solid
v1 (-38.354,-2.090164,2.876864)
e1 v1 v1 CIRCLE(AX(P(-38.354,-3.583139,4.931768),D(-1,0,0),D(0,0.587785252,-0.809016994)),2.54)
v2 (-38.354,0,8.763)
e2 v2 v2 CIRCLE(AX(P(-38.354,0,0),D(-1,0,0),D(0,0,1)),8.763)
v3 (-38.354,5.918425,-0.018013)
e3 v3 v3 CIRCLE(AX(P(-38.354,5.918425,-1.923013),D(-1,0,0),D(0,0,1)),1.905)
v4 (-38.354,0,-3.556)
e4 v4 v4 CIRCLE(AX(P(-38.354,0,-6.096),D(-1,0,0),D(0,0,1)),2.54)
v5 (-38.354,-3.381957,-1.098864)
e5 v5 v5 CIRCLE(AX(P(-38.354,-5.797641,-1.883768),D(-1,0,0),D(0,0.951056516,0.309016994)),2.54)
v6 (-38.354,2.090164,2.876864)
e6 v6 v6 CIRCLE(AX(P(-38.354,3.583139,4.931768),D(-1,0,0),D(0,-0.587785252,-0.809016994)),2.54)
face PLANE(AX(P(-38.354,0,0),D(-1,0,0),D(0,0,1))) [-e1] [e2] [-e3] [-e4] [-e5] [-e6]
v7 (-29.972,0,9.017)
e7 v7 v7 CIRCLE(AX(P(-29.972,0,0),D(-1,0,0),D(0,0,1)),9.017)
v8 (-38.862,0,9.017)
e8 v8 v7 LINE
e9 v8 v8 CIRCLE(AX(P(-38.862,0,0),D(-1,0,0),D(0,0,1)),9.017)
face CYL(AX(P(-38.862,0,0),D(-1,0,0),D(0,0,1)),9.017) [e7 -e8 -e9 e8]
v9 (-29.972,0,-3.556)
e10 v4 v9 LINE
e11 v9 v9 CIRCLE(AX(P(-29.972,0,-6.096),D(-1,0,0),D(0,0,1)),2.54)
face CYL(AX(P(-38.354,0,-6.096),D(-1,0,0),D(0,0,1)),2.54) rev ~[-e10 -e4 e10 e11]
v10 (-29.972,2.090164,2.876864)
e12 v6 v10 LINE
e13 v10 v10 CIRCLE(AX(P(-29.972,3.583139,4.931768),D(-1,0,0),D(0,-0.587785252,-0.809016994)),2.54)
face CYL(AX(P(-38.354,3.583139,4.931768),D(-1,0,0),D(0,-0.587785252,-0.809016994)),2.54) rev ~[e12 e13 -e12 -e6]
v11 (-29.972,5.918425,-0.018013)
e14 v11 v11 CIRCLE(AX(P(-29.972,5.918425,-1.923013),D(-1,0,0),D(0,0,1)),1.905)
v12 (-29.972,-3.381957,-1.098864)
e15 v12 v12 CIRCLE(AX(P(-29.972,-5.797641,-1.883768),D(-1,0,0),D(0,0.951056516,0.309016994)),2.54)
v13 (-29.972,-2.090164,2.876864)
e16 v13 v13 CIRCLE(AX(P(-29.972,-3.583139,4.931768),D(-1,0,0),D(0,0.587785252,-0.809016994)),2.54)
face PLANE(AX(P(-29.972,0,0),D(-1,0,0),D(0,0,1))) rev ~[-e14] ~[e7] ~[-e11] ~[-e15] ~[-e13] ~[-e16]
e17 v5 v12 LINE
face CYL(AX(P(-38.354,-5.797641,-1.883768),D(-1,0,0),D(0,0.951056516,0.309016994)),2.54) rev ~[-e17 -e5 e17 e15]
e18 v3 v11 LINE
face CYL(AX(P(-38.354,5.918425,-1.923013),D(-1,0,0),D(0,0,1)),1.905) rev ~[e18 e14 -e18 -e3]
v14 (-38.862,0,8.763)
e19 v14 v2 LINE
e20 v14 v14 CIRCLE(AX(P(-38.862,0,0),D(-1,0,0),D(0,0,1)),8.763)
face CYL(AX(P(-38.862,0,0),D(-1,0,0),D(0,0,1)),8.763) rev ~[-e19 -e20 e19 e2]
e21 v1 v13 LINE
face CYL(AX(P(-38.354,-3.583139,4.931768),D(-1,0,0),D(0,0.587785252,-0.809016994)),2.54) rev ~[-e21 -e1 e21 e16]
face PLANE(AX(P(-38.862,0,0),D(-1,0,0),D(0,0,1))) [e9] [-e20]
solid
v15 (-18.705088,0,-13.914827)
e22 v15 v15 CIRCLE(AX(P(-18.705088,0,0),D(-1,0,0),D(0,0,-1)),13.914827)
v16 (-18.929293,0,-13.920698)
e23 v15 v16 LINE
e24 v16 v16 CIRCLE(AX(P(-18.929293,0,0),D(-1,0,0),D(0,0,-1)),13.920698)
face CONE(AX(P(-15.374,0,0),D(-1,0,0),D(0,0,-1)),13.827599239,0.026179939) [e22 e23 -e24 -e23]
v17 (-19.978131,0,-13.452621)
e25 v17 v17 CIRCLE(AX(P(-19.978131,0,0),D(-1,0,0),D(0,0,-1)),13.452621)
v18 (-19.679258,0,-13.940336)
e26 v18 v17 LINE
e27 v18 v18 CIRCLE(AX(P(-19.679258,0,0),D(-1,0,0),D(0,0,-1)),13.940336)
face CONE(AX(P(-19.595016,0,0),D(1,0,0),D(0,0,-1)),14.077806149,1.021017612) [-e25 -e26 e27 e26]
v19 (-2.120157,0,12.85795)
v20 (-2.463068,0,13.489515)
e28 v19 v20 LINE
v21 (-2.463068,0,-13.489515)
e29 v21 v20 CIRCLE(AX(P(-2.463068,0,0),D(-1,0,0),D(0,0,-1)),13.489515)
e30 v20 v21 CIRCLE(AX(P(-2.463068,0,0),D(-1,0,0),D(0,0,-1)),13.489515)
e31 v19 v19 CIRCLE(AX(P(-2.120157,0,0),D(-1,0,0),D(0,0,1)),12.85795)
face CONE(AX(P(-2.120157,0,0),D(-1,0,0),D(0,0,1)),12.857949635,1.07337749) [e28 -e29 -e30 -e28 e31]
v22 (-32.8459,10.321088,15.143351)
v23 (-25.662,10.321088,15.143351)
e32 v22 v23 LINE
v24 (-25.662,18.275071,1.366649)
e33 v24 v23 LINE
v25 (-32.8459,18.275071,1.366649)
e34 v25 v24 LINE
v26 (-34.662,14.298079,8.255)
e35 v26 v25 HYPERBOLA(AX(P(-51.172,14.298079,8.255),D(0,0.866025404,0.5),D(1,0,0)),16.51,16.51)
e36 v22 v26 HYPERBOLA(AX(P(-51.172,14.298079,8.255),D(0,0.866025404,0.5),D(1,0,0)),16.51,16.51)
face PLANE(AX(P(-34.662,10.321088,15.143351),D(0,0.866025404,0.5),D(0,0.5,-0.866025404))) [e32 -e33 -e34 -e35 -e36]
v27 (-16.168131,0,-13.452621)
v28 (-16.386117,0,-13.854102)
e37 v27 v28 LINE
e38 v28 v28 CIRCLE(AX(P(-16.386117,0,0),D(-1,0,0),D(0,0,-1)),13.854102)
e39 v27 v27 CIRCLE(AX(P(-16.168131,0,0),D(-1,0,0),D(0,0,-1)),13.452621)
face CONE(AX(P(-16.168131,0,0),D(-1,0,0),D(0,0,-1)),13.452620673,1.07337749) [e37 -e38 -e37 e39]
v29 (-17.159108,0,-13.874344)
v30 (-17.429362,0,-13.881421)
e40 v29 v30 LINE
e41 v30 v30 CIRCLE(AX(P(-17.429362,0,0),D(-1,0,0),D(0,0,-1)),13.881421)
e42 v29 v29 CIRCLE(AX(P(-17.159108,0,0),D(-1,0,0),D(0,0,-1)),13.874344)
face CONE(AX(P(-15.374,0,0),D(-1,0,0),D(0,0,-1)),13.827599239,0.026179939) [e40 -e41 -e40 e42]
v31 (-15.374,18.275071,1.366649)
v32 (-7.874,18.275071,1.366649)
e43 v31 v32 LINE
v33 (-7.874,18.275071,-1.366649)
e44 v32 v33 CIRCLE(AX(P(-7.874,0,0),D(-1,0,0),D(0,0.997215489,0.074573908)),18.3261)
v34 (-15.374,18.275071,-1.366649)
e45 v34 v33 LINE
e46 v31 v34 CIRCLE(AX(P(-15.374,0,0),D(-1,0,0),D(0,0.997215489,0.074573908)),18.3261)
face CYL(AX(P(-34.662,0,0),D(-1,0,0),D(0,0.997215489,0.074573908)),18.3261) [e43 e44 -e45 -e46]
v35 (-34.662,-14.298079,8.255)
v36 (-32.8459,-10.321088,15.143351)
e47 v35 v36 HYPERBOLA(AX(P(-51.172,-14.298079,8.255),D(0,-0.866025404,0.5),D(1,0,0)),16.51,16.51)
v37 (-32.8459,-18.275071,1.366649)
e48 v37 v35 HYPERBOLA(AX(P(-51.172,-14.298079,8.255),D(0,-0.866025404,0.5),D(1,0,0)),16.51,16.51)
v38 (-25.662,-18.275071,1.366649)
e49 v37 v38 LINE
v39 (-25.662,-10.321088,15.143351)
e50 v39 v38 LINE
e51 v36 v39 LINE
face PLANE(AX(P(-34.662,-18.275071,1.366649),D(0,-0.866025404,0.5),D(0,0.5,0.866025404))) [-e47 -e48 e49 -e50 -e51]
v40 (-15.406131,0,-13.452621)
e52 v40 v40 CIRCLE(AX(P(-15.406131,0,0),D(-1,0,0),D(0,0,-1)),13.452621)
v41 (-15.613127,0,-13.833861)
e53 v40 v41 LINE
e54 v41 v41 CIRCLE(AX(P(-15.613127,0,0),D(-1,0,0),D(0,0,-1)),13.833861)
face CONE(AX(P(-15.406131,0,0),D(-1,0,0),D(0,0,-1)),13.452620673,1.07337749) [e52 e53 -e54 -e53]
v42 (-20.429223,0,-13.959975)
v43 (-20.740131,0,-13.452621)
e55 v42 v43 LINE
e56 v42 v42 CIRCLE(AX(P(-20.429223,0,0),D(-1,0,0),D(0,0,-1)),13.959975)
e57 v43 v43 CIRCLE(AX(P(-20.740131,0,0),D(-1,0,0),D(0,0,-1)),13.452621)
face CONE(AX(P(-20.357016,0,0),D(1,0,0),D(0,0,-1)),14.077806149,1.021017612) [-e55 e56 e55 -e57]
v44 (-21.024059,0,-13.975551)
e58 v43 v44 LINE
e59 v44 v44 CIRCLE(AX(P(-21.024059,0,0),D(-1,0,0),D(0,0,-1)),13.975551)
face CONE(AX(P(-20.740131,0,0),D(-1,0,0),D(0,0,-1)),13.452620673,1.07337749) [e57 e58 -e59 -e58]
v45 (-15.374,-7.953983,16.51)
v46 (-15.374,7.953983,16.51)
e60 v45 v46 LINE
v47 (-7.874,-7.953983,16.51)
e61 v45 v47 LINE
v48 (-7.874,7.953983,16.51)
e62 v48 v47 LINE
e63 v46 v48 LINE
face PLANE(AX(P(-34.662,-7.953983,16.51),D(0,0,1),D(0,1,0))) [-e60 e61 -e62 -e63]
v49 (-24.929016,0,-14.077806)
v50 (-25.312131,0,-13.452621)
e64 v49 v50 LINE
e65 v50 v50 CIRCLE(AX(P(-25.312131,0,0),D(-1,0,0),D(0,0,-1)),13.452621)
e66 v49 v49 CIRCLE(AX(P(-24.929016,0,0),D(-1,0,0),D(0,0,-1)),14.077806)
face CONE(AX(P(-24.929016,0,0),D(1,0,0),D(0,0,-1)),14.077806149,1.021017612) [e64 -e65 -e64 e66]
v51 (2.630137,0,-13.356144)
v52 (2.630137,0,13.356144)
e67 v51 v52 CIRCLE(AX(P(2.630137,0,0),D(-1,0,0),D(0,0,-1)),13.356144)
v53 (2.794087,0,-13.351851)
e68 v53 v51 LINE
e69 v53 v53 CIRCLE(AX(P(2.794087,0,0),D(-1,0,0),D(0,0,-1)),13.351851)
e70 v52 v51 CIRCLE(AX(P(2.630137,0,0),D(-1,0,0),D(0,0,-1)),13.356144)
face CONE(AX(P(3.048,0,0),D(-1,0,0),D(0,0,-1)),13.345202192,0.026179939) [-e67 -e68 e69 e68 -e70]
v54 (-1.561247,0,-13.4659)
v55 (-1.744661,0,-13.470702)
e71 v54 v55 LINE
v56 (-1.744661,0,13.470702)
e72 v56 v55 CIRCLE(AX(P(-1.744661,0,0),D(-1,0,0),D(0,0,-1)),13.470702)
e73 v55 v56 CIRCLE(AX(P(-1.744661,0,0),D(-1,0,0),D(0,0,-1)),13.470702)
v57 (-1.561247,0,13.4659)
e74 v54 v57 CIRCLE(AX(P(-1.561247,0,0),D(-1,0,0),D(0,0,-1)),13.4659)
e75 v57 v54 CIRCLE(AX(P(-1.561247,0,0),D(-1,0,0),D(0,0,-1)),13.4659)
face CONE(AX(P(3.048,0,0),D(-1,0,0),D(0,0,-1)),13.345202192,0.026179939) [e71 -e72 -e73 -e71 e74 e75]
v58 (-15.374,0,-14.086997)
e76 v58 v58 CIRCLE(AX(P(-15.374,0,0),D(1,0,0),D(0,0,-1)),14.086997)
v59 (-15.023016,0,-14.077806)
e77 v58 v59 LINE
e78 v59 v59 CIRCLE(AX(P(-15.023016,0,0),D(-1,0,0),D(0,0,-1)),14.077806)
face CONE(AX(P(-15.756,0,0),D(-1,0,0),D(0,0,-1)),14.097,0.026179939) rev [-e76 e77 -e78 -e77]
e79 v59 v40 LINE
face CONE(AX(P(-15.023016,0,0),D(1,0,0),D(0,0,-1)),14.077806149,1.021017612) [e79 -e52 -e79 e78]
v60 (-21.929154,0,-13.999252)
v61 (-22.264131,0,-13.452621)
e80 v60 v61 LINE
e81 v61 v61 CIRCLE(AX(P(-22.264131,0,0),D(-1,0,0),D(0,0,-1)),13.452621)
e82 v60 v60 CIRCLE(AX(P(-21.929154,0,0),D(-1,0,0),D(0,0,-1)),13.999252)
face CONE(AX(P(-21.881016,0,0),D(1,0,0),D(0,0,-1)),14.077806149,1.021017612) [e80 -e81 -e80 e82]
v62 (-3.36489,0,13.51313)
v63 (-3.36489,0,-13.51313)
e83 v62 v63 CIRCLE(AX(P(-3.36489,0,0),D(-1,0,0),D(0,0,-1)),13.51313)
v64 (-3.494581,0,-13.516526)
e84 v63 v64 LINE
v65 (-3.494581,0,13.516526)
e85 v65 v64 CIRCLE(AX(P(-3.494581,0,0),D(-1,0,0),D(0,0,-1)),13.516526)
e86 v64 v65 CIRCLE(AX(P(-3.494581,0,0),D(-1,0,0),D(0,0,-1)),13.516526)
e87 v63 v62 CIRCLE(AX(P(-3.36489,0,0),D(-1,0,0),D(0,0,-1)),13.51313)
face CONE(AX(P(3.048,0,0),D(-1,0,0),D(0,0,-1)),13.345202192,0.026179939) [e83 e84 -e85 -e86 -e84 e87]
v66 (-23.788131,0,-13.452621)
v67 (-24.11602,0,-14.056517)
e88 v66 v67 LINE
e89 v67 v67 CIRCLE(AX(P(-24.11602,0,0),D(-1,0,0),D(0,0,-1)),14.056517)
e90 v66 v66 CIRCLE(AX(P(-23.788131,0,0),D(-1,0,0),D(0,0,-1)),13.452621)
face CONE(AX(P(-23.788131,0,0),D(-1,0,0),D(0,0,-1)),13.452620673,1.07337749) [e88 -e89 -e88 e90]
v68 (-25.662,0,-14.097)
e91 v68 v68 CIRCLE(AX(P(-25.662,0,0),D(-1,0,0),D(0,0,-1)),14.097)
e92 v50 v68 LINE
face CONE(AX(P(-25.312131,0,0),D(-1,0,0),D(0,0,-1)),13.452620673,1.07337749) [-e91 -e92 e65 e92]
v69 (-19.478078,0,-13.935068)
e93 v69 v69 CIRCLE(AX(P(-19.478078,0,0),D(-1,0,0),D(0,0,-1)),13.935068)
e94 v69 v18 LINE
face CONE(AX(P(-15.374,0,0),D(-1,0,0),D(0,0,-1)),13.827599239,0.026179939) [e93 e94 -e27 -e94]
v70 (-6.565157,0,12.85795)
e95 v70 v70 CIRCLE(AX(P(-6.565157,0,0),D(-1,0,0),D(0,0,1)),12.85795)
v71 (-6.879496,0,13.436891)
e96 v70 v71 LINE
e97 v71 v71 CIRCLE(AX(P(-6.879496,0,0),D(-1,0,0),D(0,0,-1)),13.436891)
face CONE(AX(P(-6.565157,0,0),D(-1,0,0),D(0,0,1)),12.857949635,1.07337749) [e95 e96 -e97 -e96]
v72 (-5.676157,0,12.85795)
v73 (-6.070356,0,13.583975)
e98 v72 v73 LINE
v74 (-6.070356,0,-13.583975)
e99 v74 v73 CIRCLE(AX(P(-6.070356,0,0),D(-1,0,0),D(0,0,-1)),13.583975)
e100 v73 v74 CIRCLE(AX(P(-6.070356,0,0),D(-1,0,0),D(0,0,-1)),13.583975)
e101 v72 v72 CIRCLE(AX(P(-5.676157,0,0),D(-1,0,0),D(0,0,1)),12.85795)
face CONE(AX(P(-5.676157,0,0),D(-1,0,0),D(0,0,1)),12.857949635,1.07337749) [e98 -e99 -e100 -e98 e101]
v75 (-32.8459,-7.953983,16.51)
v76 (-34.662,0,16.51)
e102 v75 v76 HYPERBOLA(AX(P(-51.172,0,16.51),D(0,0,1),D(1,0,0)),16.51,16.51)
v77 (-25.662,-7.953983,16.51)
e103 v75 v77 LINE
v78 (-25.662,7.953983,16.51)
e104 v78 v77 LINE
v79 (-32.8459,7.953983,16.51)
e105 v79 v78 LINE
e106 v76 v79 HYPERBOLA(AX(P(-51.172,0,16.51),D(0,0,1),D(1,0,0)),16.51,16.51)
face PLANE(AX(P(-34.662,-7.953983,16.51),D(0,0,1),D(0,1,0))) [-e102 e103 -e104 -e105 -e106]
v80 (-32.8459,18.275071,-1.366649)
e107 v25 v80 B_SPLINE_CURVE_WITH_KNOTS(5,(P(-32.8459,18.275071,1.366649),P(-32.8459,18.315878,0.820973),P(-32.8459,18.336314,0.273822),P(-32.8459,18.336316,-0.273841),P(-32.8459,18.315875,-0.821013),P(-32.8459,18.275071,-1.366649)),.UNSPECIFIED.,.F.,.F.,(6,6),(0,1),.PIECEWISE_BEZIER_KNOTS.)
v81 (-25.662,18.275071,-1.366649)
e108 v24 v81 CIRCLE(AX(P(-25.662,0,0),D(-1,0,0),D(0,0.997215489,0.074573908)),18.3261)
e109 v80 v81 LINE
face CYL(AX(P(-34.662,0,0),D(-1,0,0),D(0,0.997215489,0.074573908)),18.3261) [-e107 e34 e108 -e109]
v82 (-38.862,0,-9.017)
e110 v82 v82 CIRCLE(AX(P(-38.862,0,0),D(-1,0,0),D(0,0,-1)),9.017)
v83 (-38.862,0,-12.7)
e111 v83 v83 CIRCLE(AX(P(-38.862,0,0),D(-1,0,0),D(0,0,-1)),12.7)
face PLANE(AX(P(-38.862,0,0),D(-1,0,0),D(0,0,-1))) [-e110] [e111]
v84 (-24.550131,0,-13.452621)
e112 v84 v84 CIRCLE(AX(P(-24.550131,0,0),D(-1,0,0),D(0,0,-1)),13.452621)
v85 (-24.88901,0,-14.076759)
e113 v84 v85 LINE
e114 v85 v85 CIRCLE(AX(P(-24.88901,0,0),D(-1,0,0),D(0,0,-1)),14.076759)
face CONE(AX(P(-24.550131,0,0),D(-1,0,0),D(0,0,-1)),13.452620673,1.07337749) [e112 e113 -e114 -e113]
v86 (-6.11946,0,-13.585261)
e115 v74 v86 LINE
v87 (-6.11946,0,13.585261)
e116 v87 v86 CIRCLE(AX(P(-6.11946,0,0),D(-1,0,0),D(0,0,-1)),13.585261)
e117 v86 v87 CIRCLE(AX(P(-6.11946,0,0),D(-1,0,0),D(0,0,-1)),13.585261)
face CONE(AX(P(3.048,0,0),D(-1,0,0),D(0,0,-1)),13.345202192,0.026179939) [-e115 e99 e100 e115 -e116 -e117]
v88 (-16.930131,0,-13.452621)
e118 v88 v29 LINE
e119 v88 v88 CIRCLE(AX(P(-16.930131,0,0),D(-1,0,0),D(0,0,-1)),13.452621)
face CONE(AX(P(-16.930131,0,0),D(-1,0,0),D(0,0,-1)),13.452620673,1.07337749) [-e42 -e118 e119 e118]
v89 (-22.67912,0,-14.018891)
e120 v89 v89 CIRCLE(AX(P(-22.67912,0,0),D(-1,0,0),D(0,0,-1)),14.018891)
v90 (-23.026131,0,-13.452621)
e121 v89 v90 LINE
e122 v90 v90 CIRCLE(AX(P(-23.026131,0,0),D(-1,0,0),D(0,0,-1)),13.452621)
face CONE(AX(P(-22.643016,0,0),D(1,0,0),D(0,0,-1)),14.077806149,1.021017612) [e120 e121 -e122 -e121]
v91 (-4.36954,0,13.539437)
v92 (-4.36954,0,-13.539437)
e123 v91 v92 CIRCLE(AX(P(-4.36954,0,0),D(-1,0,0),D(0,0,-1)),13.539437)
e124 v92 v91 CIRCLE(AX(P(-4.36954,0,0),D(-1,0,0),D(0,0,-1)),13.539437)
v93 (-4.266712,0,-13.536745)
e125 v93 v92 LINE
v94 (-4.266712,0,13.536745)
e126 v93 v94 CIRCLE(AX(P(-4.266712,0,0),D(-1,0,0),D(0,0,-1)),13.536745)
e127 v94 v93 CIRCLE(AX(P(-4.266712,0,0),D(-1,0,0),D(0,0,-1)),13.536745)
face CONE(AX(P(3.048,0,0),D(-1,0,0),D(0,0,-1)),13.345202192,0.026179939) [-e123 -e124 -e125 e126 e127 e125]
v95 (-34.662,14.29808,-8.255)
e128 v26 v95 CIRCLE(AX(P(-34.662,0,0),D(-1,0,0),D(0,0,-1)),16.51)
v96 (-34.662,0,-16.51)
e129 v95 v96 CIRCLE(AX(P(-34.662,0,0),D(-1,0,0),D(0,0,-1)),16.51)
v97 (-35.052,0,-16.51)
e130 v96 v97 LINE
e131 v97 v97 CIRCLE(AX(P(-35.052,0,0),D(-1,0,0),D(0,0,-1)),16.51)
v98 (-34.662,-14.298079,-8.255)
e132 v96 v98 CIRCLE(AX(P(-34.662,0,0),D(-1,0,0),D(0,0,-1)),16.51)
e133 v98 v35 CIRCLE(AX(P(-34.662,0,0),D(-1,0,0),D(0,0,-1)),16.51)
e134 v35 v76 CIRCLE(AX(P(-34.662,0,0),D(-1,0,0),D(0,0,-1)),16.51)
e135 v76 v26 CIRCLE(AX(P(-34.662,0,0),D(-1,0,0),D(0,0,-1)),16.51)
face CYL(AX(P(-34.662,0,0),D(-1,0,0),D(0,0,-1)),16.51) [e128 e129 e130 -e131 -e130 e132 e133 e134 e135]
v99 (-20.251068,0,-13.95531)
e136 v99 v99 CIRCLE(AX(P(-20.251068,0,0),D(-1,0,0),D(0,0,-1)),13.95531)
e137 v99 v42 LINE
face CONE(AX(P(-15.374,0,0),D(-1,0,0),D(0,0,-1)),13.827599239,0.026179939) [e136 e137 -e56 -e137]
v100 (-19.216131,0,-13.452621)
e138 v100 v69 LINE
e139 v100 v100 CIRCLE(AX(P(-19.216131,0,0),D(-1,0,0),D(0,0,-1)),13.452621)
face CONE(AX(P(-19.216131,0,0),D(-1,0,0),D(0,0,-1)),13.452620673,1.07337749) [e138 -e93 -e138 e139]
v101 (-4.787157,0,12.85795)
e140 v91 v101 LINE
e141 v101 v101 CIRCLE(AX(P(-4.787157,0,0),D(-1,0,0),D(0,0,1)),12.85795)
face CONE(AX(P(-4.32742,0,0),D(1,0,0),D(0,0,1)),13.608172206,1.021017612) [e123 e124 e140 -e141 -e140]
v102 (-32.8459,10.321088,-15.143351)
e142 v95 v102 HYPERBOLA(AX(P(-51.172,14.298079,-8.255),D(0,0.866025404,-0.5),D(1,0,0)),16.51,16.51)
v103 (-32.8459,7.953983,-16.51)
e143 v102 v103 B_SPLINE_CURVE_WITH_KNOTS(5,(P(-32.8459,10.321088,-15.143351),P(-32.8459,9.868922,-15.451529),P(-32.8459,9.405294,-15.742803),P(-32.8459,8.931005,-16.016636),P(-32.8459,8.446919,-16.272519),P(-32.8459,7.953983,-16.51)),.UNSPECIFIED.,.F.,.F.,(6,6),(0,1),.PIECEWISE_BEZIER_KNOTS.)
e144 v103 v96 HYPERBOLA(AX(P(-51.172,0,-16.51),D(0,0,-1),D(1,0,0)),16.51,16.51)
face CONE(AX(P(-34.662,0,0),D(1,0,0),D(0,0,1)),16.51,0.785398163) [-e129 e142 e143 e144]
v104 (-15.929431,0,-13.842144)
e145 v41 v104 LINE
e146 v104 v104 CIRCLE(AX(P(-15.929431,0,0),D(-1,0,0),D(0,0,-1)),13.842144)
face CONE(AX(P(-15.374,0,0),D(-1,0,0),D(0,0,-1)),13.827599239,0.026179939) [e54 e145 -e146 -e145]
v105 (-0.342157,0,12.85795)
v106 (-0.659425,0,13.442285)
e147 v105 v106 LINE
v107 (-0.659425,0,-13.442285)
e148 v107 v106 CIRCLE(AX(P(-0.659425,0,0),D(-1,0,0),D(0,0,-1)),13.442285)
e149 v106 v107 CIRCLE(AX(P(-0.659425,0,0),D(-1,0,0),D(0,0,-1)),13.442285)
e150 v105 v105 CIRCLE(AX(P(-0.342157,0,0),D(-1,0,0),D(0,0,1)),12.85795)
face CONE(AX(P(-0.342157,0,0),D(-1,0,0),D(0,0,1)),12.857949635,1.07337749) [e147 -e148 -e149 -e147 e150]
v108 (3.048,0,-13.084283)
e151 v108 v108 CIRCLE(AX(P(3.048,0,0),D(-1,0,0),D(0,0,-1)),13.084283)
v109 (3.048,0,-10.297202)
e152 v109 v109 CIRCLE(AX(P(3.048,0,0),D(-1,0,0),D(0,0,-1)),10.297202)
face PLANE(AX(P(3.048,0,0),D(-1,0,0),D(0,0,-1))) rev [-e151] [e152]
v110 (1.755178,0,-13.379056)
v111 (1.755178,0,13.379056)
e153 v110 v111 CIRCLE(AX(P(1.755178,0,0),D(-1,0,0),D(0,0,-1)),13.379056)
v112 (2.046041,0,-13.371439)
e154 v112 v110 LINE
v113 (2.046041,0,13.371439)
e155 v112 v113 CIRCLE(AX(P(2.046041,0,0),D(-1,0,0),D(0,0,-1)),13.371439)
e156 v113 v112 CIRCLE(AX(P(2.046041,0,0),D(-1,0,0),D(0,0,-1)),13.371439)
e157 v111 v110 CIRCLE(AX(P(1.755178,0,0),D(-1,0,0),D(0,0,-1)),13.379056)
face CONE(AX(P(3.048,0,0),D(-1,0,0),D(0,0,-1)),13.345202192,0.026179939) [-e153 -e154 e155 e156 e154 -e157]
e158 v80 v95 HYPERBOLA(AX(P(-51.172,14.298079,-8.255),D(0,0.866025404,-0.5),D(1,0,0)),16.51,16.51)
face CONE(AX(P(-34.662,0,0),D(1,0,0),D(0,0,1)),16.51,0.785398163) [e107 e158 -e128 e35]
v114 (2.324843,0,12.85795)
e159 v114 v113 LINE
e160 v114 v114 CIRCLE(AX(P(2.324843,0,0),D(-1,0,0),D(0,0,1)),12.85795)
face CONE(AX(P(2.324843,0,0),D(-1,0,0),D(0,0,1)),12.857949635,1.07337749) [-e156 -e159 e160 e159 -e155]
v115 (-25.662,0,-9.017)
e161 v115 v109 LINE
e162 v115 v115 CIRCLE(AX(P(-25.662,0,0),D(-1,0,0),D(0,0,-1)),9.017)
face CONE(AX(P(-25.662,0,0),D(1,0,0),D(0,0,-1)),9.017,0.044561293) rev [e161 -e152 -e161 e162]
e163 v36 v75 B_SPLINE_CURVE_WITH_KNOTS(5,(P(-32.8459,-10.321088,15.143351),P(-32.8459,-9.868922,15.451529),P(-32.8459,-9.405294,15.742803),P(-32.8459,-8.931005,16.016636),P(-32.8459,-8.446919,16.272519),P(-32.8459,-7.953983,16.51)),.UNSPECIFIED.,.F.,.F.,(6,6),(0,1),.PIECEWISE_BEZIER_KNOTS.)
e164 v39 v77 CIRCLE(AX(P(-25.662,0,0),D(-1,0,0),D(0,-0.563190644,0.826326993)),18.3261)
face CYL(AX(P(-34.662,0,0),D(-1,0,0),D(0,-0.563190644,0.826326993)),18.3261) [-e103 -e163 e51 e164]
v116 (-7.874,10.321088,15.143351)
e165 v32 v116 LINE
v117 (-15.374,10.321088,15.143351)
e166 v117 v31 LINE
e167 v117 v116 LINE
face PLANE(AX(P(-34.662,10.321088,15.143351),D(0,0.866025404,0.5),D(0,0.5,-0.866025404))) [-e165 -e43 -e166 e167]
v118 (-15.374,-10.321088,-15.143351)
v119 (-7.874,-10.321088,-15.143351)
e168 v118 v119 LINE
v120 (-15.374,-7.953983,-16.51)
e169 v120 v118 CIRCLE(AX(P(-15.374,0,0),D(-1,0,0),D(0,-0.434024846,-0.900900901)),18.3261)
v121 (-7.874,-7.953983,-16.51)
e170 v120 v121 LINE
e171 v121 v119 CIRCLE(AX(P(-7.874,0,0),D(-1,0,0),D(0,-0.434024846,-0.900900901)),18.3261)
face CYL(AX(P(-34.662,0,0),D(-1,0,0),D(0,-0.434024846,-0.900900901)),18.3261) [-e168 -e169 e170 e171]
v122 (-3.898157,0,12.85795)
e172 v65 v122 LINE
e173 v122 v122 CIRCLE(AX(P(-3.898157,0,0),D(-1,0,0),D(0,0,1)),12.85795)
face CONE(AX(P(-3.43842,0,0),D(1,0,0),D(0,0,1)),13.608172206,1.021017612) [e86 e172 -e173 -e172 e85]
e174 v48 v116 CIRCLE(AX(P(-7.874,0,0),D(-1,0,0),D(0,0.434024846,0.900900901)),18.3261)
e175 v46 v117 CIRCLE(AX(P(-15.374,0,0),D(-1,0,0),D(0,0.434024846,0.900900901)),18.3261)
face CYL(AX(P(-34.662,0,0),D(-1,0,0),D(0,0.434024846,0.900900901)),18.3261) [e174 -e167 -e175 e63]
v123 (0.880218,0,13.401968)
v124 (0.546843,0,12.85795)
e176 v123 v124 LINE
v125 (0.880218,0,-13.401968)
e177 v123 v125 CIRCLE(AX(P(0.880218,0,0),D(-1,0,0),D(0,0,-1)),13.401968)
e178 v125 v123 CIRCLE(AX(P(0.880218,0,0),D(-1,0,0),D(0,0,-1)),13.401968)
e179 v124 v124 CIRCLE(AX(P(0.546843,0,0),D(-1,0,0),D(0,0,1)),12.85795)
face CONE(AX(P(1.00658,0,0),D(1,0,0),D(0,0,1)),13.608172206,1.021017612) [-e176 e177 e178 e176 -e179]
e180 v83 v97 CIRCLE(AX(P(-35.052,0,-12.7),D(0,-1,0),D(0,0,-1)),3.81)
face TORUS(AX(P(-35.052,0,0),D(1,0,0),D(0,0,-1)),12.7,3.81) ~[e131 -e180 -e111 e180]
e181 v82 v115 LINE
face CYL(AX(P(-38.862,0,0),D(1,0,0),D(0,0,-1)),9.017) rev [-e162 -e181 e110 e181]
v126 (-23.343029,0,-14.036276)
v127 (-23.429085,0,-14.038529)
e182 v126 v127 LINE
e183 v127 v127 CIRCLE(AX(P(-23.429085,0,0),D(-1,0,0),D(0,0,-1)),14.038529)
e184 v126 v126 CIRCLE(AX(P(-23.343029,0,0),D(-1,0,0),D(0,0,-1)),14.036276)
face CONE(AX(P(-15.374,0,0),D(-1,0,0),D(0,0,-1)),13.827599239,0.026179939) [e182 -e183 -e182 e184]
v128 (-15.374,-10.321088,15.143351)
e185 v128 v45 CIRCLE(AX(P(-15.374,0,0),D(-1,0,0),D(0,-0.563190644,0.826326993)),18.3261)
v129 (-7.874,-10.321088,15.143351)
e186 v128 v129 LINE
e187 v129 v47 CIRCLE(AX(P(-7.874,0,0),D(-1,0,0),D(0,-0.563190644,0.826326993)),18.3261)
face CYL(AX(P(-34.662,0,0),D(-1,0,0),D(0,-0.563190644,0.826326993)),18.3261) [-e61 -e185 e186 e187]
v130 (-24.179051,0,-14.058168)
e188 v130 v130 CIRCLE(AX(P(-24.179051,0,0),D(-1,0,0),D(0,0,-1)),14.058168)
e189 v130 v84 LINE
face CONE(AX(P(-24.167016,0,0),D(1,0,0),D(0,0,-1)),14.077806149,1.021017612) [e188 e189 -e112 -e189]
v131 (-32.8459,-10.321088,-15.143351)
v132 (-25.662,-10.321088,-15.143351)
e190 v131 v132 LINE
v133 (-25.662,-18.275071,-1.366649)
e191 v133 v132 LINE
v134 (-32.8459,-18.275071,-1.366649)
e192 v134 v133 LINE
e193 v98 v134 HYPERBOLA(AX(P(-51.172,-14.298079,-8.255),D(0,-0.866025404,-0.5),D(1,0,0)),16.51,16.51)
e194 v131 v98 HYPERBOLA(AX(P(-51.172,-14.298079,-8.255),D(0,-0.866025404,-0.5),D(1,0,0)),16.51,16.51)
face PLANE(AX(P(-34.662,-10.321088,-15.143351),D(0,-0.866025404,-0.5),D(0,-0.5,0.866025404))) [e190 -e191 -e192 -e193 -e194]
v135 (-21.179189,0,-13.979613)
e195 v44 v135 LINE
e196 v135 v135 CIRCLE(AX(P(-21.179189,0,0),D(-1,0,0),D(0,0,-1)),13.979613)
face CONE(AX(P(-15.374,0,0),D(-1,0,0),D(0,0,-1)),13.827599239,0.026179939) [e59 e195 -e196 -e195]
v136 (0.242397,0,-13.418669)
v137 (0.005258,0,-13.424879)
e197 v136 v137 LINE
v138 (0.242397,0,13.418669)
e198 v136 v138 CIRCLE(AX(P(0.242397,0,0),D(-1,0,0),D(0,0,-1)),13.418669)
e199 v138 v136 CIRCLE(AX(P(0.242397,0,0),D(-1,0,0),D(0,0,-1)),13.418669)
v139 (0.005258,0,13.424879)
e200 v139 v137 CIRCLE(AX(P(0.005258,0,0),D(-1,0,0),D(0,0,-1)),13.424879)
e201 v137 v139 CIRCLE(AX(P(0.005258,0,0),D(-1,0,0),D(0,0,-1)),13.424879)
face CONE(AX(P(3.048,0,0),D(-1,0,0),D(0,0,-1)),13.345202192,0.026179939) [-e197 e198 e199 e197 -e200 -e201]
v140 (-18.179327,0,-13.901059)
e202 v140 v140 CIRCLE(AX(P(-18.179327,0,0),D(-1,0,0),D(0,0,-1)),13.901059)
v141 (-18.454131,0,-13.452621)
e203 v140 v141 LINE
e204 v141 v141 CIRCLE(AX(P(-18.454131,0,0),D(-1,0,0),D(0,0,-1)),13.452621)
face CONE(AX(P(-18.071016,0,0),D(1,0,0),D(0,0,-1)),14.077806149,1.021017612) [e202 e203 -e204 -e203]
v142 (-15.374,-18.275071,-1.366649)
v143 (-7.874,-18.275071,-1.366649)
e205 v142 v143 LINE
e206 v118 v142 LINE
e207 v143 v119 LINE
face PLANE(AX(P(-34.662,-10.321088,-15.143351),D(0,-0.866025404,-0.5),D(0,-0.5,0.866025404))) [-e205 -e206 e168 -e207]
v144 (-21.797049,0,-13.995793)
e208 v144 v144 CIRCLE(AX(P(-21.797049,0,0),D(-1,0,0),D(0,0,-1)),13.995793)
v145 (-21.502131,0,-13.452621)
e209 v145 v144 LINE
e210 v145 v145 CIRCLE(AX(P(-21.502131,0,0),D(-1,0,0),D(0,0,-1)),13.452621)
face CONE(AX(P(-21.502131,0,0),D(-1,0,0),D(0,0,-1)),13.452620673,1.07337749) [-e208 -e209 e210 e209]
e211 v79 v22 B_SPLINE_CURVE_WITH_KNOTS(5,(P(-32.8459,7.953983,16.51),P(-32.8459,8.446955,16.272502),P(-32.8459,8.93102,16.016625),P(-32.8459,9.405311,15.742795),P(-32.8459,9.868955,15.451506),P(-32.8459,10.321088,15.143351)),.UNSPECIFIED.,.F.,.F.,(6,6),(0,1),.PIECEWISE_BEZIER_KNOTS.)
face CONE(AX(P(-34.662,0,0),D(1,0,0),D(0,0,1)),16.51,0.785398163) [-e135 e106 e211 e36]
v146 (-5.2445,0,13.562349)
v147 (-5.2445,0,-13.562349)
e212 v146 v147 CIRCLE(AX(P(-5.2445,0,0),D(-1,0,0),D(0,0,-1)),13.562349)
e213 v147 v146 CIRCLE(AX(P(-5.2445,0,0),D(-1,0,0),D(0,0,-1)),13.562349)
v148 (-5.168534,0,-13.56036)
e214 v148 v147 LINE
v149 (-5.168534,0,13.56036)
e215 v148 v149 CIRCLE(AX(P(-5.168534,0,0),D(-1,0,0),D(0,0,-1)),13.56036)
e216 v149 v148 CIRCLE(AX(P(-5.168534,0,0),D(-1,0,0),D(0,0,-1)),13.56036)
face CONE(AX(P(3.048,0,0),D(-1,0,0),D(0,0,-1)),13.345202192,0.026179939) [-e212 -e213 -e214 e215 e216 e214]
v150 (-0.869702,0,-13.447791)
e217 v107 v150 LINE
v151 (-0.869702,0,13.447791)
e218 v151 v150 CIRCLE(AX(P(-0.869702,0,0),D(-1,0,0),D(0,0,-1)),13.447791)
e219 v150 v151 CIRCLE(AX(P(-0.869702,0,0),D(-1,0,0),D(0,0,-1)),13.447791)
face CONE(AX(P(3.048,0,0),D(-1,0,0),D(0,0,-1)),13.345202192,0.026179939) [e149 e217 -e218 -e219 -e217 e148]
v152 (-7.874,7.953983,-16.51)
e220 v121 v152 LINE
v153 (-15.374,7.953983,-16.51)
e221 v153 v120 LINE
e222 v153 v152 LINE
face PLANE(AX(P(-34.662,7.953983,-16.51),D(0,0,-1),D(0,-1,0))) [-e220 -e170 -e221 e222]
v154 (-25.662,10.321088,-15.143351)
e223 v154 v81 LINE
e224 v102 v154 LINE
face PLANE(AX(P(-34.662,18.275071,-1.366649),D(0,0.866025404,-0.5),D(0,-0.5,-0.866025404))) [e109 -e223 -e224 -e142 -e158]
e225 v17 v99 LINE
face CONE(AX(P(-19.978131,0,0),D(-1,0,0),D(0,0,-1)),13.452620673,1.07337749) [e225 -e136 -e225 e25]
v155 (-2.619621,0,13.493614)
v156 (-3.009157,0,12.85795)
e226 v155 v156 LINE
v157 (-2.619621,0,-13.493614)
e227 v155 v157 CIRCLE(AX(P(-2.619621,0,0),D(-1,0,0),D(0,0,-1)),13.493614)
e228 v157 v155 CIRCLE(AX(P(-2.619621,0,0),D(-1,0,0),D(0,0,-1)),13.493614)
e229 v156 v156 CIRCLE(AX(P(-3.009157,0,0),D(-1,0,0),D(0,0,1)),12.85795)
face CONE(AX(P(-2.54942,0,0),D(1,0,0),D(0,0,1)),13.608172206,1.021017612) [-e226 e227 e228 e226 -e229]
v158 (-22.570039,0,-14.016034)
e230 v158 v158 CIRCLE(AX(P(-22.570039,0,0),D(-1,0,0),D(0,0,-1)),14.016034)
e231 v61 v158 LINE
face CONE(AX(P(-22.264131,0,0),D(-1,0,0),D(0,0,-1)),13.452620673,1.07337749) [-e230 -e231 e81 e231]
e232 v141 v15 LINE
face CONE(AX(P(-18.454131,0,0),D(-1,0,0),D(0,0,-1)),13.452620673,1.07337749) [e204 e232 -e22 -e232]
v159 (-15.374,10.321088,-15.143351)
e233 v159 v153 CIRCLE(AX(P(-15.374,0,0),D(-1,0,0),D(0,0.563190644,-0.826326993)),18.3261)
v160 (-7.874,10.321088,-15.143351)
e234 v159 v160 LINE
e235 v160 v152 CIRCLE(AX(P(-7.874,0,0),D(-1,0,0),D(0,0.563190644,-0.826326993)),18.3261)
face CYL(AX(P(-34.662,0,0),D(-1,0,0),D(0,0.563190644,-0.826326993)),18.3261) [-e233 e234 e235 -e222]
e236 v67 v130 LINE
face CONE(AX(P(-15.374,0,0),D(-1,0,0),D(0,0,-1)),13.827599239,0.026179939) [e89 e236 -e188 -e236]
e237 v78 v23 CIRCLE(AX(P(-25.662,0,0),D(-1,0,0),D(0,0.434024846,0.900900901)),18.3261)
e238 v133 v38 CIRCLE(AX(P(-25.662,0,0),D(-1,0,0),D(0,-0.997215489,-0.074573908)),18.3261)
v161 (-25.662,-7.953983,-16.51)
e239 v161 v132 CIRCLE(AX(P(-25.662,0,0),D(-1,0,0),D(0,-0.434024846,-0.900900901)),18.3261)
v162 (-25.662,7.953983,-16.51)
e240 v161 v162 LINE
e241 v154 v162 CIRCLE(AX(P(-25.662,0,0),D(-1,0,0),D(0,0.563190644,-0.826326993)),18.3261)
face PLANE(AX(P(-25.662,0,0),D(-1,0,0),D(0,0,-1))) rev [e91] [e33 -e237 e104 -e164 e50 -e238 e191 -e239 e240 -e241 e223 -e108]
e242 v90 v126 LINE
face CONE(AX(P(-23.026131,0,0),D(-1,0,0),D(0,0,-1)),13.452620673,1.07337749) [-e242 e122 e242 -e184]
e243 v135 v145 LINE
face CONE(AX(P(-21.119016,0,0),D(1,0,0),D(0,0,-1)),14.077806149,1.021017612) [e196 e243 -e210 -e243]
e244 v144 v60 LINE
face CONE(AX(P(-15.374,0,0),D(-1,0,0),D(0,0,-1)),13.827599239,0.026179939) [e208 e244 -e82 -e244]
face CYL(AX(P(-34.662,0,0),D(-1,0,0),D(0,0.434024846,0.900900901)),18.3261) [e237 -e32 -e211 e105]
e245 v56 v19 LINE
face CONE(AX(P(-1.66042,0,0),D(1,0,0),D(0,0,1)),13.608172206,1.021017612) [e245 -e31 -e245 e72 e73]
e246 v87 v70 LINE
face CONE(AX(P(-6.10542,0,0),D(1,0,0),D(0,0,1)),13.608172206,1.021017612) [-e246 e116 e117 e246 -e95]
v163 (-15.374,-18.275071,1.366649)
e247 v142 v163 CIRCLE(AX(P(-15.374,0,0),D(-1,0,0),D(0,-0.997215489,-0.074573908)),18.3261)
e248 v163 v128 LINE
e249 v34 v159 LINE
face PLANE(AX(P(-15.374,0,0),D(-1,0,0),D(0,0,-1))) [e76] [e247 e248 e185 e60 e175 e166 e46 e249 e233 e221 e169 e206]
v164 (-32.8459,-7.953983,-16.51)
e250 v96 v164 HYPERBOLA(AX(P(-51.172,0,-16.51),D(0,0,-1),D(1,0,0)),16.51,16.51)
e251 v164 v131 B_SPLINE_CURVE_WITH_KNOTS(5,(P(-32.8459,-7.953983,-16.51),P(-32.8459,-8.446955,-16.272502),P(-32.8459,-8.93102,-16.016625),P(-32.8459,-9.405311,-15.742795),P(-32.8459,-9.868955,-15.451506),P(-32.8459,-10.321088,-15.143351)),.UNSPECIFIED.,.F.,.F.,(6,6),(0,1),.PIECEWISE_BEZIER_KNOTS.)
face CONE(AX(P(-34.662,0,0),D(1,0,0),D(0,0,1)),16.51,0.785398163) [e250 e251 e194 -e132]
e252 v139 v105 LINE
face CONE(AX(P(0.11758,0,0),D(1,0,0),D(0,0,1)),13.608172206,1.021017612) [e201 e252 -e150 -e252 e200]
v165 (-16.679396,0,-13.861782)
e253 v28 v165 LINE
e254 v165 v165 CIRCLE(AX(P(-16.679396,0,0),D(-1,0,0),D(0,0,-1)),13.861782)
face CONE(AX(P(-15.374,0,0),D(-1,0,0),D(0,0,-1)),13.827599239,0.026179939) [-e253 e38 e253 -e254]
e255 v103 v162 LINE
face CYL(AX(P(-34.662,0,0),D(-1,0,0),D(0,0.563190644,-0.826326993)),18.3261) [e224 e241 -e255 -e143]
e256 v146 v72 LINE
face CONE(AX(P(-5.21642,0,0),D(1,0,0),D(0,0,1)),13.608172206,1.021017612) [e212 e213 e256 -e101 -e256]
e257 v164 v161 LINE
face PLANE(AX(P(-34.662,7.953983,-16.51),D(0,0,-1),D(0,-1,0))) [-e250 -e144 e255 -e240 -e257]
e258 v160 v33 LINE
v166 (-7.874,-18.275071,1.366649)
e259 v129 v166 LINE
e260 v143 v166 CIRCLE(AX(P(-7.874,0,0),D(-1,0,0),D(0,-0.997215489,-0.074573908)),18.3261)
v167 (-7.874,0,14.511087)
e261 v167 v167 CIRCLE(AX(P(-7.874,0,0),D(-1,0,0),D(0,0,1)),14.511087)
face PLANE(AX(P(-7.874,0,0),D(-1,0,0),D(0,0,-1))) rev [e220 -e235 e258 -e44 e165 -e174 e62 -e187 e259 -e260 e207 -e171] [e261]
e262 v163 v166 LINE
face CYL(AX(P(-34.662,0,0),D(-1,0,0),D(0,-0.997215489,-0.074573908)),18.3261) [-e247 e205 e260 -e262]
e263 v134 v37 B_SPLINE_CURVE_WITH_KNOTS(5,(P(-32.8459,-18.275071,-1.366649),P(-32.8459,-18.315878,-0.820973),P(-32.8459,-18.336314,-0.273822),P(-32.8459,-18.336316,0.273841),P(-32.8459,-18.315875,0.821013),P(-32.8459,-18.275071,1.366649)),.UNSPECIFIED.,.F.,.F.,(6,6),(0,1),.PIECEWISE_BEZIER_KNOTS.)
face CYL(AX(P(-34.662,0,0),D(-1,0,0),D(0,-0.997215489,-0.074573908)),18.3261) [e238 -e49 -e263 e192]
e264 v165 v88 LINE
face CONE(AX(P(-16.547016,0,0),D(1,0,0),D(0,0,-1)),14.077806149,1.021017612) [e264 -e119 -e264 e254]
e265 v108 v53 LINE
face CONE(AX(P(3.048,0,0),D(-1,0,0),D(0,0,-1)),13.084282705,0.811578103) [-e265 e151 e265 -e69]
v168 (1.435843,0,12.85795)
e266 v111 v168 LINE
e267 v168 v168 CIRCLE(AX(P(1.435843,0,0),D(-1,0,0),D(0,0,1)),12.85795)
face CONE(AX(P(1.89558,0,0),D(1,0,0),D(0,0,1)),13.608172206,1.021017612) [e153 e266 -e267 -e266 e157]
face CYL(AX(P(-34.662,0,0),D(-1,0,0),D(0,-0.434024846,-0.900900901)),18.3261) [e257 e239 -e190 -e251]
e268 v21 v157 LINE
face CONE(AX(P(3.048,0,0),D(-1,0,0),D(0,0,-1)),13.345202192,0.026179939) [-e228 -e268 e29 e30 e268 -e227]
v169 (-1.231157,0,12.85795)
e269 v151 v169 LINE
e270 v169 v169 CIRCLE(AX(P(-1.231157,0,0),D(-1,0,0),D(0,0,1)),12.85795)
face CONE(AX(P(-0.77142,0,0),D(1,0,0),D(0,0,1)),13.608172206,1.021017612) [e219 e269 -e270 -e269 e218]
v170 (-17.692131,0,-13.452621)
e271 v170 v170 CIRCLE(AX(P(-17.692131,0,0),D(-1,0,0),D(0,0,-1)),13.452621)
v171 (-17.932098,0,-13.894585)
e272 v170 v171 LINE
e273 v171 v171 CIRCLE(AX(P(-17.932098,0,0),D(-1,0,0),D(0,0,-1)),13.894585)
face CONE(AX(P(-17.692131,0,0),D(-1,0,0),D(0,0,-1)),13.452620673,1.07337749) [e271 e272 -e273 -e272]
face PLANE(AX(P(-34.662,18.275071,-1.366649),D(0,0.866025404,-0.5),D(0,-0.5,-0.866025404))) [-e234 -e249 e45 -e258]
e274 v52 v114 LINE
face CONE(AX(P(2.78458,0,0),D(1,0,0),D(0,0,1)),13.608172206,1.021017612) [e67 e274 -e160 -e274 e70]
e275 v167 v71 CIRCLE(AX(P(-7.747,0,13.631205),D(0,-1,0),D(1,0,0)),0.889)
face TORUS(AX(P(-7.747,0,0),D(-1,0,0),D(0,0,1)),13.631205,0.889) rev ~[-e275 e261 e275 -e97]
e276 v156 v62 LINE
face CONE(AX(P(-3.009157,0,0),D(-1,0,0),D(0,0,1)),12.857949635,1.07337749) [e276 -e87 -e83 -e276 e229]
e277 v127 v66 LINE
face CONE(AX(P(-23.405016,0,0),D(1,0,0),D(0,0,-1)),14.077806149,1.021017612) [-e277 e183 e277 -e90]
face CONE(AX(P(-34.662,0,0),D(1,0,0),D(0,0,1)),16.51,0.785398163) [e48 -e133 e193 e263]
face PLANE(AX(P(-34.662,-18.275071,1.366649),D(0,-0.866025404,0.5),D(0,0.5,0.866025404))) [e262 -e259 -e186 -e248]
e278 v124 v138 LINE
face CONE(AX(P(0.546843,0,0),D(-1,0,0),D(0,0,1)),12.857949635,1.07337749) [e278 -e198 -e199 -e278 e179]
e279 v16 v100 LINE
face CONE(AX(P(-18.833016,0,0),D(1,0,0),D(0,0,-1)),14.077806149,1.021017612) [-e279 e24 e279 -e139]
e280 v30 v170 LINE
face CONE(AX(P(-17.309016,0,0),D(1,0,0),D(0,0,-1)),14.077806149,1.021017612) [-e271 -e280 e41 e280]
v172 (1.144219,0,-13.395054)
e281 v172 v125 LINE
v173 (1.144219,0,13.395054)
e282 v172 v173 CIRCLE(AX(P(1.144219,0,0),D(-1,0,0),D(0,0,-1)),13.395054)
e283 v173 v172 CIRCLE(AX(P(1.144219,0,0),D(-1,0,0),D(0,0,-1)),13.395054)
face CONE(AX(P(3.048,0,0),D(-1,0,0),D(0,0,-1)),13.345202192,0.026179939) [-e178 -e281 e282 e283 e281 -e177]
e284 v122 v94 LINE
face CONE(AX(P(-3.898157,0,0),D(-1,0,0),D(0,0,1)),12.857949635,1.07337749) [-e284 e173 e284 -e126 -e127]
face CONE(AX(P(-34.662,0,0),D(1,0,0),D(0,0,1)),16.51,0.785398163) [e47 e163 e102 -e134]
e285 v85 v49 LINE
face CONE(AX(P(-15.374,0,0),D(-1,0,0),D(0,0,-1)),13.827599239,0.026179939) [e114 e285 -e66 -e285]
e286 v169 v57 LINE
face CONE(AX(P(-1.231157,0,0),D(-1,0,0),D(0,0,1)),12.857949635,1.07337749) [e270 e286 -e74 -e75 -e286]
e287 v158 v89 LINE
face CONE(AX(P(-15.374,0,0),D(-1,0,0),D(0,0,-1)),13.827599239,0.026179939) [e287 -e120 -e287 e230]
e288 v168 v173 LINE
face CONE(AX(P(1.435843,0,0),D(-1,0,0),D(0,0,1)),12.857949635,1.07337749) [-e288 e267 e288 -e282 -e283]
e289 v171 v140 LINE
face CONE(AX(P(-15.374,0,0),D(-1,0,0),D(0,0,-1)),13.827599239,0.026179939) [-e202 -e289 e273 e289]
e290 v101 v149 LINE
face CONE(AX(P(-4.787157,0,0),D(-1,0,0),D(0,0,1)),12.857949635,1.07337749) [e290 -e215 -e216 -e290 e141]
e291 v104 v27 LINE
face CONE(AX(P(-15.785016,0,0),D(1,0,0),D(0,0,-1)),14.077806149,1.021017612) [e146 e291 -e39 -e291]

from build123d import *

# Parameters (mm, degrees)
SKETCH12_OUTSIDE_W = 88.514
SKETCH12_OUTSIDE_H = 88.514
CUT_EXTRUDE2_DEPTH = 38.71
FILLET4_R          = 3.81
SKETCH19_OUTSIDE_W = 55.962
SKETCH19_OUTSIDE_H = 59.594
SKETCH19_OUTSIDE_R = 16.51
CUT_EXTRUDE3_DEPTH = 3.99796
CUT_EXTRUDE3_DRAFT = -45
CHAMFER1_SIZE      = 0.260919487
CHAMFER1_SIZE2     = 0.254
SKETCH21_R         = 9.017
PLUG_DEPTH         = 8.89
SKETCH22_R         = 8.763
CUT_EXTRUDE4_DEPTH = 0.508
SKETCH27_R         = 2.54
PLUGHOLES_DEPTH    = 42.402
CIRPATTERN1_COUNT  = 4
CIRPATTERN1_ANGLE  = 216
LPATTERN1_COUNT    = 14
LPATTERN1_PITCH    = 0.762
LPATTERN2_COUNT    = 12
LPATTERN2_PITCH    = 0.889
SKETCH32_R         = 0.889
SKETCH33_R         = 1.905
CUT_EXTRUDE6_DEPTH = 42.402


with BuildPart() as part:
    # Sketch10 → Revolve2 (revolve)
    with BuildSketch(Plane.XY, mode=Mode.PRIVATE) as revolve2_sk:
        Polygon((-38.862, 9.017), (-25.662, 9.017), (3.048, 10.297202192), (3.048, 13.345202192), (-7.874, 13.631204827), (-7.874, 33.02), (-15.374, 33.02), (-15.374, 13.827599239), (-25.662, 14.097), (-25.662, 33.02), (-34.662, 33.02), (-34.662, 16.51), (-38.862, 16.51), align=None)
    revolve(revolve2_sk.sketch.rotate(Axis((0, 0, 0), (-1, 0, 0)), 90), axis=Axis((0, 0, 0), (-1, 0, 0)))  # turned: the seam where the file's is

    # Sketch12 outside → Cut-Extrude2 (cut, through all)
    with BuildSketch(Plane.ZY.offset(34.662)):
        Rectangle(SKETCH12_OUTSIDE_W, SKETCH12_OUTSIDE_H)
        with BuildLine():
            Line((-1.366648898, 18.27507078), (-15.143351102, 10.321088053))
            ThreePointArc((-15.143351102, 10.321088053), (-15.870868152, 9.16305), (-16.51, 7.953982726))
            Line((-16.51, 7.953982726), (-16.51, -7.953982726))
            ThreePointArc((-16.51, -7.953982726), (-15.870868152, -9.16305), (-15.143351102, -10.321088053))
            Line((-15.143351102, -10.321088053), (-1.366648898, -18.27507078))
            ThreePointArc((-1.366648898, -18.27507078), (0, -18.3261), (1.366648898, -18.27507078))
            Line((1.366648898, -18.27507078), (15.143351102, -10.321088053))
            ThreePointArc((15.143351102, -10.321088053), (15.870868152, -9.16305), (16.51, -7.953982726))
            Line((16.51, -7.953982726), (16.51, 7.953982726))
            ThreePointArc((16.51, 7.953982726), (15.870868152, 9.16305), (15.143351102, 10.321088053))
            Line((15.143351102, 10.321088053), (1.366648898, 18.27507078))
            ThreePointArc((1.366648898, 18.27507078), (0, 18.3261), (-1.366648898, 18.27507078))
        make_face(mode=Mode.SUBTRACT)
    extrude(amount=-CUT_EXTRUDE2_DEPTH, mode=Mode.SUBTRACT)

    # Fillet4
    fillet4_edges = [part.edges().sort_by_distance(p)[0] for p in [
        (-38.862, 0, 16.51),
    ]]
    fillet(fillet4_edges, radius=FILLET4_R)


with BuildPart() as cut_extrude3_tool:
    # Sketch19 outside → Cut-Extrude3 (with draft: the straight prism first)
    with BuildSketch(Plane.ZY.offset(34.662)):
        Rectangle(SKETCH19_OUTSIDE_W, SKETCH19_OUTSIDE_H)
        Circle(SKETCH19_OUTSIDE_R, mode=Mode.SUBTRACT)
    extrude(amount=-CUT_EXTRUDE3_DEPTH)
    # Cut-Extrude3: the draft: its side faces are tilted about the plane it starts from
    cut_extrude3_sides = [cut_extrude3_tool.faces().sort_by_distance(p)[0] for p in [
        (-32.66302, -29.797, 0),
        (-32.66302, 0, 27.981),
        (-32.66302, 29.797, 0),
        (-32.66302, 0, -27.981),
        (-32.66302, 0, -16.51),
    ]]
    draft(cut_extrude3_sides, Plane.ZY.offset(34.662), CUT_EXTRUDE3_DRAFT)


with BuildPart() as part_1:
    add(part.part)

    # Cut-Extrude3: cut by cut_extrude3_tool
    add(cut_extrude3_tool.part, mode=Mode.SUBTRACT)

    # Chamfer1
    chamfer1_edges = [part_1.edges().sort_by_distance(p)[0] for p in [
        (3.048, 0, 13.345202192),
    ]]
    chamfer1_side = [part_1.faces().sort_by_distance(p)[0] for p in [
        (3.048, 0, 10.67466151),
    ]]
    chamfer(chamfer1_edges, length=CHAMFER1_SIZE, length2=CHAMFER1_SIZE2, reference=chamfer1_side[0])

    # Sketch29 → Cut-Revolve1 (revolve, cut)
    with BuildSketch(Plane.XY, mode=Mode.PRIVATE) as cut_revolve1_sk:
        Polygon((-25.662, 14.097), (-24.929016419, 14.077806149), (-25.312130572, 13.452620673), align=None)
    cut_revolve1 = revolve(cut_revolve1_sk.sketch.rotate(Axis((0, 0, 0), (-1, 0, 0)), 90), axis=Axis((0, 0, 0), (-1, 0, 0)), mode=Mode.SUBTRACT)  # turned: the seam where the file's is

    # LPattern1: Cut-Revolve1 ×14
    with Locations(*[(i * LPATTERN1_PITCH, 0, 0) for i in range(1, LPATTERN1_COUNT)]):
        add(cut_revolve1, mode=Mode.SUBTRACT)

    # Sketch30 → Cut-Revolve2 (revolve, cut)
    with BuildSketch(Plane.XY, mode=Mode.PRIVATE) as cut_revolve2_sk:
        Polygon((-7.874, 13.631204827), (-6.994419703, 13.608172206), (-7.454156686, 12.857949635), align=None)
    cut_revolve2 = revolve(cut_revolve2_sk.sketch.rotate(Axis((0, 0, 0), (-1, 0, 0)), 270), axis=Axis((0, 0, 0), (-1, 0, 0)), mode=Mode.SUBTRACT)  # turned: the seam where the file's is

    # LPattern2: Cut-Revolve2 ×12
    with Locations(*[(i * LPATTERN2_PITCH, 0, 0) for i in range(1, LPATTERN2_COUNT)]):
        add(cut_revolve2, mode=Mode.SUBTRACT)

    # Sketch32 → Cut-Revolve3 (revolve, cut)
    with BuildSketch(Plane.XY, mode=Mode.PRIVATE) as cut_revolve3_sk:
        with Locations((-7.747, 13.631204827)):
            Circle(SKETCH32_R)
    revolve(cut_revolve3_sk.sketch.rotate(Axis((0, 0, 0), (-1, 0, 0)), 270), axis=Axis((0, 0, 0), (-1, 0, 0)), mode=Mode.SUBTRACT)  # turned: the seam where the file's is


with BuildPart() as body_2:
    # Sketch21 → plug (new body)
    with BuildSketch(Plane.ZY.offset(38.862)):
        Circle(SKETCH21_R)
    extrude(amount=-PLUG_DEPTH)

    # Sketch22 → Cut-Extrude4 (cut)
    with BuildSketch(Plane.ZY.offset(38.862)):
        Circle(SKETCH22_R)
    extrude(amount=-CUT_EXTRUDE4_DEPTH, mode=Mode.SUBTRACT)

    # Sketch27 → plugholes (cut, through all)
    with BuildSketch(Plane.ZY.offset(38.354)):
        with Locations((-6.096, 0)):
            Circle(SKETCH27_R)
    plugholes = extrude(amount=-PLUGHOLES_DEPTH, mode=Mode.SUBTRACT)

    # CirPattern1: plugholes ×4 about axis
    cirpattern1_axis = Axis((0, 0, 0), (-1, 0, 0))
    for i in range(1, CIRPATTERN1_COUNT):
        add(plugholes.rotate(cirpattern1_axis, i * CIRPATTERN1_ANGLE / (CIRPATTERN1_COUNT - 1)), mode=Mode.SUBTRACT)

    # Sketch33 → Cut-Extrude6 (cut, through all)
    with BuildSketch(Plane.ZY.offset(38.354)):
        with Locations((-1.923012756, 5.918424701)):
            Circle(SKETCH33_R)
    extrude(amount=-CUT_EXTRUDE6_DEPTH, mode=Mode.SUBTRACT)


solid = Compound([part_1.part, body_2.part])
